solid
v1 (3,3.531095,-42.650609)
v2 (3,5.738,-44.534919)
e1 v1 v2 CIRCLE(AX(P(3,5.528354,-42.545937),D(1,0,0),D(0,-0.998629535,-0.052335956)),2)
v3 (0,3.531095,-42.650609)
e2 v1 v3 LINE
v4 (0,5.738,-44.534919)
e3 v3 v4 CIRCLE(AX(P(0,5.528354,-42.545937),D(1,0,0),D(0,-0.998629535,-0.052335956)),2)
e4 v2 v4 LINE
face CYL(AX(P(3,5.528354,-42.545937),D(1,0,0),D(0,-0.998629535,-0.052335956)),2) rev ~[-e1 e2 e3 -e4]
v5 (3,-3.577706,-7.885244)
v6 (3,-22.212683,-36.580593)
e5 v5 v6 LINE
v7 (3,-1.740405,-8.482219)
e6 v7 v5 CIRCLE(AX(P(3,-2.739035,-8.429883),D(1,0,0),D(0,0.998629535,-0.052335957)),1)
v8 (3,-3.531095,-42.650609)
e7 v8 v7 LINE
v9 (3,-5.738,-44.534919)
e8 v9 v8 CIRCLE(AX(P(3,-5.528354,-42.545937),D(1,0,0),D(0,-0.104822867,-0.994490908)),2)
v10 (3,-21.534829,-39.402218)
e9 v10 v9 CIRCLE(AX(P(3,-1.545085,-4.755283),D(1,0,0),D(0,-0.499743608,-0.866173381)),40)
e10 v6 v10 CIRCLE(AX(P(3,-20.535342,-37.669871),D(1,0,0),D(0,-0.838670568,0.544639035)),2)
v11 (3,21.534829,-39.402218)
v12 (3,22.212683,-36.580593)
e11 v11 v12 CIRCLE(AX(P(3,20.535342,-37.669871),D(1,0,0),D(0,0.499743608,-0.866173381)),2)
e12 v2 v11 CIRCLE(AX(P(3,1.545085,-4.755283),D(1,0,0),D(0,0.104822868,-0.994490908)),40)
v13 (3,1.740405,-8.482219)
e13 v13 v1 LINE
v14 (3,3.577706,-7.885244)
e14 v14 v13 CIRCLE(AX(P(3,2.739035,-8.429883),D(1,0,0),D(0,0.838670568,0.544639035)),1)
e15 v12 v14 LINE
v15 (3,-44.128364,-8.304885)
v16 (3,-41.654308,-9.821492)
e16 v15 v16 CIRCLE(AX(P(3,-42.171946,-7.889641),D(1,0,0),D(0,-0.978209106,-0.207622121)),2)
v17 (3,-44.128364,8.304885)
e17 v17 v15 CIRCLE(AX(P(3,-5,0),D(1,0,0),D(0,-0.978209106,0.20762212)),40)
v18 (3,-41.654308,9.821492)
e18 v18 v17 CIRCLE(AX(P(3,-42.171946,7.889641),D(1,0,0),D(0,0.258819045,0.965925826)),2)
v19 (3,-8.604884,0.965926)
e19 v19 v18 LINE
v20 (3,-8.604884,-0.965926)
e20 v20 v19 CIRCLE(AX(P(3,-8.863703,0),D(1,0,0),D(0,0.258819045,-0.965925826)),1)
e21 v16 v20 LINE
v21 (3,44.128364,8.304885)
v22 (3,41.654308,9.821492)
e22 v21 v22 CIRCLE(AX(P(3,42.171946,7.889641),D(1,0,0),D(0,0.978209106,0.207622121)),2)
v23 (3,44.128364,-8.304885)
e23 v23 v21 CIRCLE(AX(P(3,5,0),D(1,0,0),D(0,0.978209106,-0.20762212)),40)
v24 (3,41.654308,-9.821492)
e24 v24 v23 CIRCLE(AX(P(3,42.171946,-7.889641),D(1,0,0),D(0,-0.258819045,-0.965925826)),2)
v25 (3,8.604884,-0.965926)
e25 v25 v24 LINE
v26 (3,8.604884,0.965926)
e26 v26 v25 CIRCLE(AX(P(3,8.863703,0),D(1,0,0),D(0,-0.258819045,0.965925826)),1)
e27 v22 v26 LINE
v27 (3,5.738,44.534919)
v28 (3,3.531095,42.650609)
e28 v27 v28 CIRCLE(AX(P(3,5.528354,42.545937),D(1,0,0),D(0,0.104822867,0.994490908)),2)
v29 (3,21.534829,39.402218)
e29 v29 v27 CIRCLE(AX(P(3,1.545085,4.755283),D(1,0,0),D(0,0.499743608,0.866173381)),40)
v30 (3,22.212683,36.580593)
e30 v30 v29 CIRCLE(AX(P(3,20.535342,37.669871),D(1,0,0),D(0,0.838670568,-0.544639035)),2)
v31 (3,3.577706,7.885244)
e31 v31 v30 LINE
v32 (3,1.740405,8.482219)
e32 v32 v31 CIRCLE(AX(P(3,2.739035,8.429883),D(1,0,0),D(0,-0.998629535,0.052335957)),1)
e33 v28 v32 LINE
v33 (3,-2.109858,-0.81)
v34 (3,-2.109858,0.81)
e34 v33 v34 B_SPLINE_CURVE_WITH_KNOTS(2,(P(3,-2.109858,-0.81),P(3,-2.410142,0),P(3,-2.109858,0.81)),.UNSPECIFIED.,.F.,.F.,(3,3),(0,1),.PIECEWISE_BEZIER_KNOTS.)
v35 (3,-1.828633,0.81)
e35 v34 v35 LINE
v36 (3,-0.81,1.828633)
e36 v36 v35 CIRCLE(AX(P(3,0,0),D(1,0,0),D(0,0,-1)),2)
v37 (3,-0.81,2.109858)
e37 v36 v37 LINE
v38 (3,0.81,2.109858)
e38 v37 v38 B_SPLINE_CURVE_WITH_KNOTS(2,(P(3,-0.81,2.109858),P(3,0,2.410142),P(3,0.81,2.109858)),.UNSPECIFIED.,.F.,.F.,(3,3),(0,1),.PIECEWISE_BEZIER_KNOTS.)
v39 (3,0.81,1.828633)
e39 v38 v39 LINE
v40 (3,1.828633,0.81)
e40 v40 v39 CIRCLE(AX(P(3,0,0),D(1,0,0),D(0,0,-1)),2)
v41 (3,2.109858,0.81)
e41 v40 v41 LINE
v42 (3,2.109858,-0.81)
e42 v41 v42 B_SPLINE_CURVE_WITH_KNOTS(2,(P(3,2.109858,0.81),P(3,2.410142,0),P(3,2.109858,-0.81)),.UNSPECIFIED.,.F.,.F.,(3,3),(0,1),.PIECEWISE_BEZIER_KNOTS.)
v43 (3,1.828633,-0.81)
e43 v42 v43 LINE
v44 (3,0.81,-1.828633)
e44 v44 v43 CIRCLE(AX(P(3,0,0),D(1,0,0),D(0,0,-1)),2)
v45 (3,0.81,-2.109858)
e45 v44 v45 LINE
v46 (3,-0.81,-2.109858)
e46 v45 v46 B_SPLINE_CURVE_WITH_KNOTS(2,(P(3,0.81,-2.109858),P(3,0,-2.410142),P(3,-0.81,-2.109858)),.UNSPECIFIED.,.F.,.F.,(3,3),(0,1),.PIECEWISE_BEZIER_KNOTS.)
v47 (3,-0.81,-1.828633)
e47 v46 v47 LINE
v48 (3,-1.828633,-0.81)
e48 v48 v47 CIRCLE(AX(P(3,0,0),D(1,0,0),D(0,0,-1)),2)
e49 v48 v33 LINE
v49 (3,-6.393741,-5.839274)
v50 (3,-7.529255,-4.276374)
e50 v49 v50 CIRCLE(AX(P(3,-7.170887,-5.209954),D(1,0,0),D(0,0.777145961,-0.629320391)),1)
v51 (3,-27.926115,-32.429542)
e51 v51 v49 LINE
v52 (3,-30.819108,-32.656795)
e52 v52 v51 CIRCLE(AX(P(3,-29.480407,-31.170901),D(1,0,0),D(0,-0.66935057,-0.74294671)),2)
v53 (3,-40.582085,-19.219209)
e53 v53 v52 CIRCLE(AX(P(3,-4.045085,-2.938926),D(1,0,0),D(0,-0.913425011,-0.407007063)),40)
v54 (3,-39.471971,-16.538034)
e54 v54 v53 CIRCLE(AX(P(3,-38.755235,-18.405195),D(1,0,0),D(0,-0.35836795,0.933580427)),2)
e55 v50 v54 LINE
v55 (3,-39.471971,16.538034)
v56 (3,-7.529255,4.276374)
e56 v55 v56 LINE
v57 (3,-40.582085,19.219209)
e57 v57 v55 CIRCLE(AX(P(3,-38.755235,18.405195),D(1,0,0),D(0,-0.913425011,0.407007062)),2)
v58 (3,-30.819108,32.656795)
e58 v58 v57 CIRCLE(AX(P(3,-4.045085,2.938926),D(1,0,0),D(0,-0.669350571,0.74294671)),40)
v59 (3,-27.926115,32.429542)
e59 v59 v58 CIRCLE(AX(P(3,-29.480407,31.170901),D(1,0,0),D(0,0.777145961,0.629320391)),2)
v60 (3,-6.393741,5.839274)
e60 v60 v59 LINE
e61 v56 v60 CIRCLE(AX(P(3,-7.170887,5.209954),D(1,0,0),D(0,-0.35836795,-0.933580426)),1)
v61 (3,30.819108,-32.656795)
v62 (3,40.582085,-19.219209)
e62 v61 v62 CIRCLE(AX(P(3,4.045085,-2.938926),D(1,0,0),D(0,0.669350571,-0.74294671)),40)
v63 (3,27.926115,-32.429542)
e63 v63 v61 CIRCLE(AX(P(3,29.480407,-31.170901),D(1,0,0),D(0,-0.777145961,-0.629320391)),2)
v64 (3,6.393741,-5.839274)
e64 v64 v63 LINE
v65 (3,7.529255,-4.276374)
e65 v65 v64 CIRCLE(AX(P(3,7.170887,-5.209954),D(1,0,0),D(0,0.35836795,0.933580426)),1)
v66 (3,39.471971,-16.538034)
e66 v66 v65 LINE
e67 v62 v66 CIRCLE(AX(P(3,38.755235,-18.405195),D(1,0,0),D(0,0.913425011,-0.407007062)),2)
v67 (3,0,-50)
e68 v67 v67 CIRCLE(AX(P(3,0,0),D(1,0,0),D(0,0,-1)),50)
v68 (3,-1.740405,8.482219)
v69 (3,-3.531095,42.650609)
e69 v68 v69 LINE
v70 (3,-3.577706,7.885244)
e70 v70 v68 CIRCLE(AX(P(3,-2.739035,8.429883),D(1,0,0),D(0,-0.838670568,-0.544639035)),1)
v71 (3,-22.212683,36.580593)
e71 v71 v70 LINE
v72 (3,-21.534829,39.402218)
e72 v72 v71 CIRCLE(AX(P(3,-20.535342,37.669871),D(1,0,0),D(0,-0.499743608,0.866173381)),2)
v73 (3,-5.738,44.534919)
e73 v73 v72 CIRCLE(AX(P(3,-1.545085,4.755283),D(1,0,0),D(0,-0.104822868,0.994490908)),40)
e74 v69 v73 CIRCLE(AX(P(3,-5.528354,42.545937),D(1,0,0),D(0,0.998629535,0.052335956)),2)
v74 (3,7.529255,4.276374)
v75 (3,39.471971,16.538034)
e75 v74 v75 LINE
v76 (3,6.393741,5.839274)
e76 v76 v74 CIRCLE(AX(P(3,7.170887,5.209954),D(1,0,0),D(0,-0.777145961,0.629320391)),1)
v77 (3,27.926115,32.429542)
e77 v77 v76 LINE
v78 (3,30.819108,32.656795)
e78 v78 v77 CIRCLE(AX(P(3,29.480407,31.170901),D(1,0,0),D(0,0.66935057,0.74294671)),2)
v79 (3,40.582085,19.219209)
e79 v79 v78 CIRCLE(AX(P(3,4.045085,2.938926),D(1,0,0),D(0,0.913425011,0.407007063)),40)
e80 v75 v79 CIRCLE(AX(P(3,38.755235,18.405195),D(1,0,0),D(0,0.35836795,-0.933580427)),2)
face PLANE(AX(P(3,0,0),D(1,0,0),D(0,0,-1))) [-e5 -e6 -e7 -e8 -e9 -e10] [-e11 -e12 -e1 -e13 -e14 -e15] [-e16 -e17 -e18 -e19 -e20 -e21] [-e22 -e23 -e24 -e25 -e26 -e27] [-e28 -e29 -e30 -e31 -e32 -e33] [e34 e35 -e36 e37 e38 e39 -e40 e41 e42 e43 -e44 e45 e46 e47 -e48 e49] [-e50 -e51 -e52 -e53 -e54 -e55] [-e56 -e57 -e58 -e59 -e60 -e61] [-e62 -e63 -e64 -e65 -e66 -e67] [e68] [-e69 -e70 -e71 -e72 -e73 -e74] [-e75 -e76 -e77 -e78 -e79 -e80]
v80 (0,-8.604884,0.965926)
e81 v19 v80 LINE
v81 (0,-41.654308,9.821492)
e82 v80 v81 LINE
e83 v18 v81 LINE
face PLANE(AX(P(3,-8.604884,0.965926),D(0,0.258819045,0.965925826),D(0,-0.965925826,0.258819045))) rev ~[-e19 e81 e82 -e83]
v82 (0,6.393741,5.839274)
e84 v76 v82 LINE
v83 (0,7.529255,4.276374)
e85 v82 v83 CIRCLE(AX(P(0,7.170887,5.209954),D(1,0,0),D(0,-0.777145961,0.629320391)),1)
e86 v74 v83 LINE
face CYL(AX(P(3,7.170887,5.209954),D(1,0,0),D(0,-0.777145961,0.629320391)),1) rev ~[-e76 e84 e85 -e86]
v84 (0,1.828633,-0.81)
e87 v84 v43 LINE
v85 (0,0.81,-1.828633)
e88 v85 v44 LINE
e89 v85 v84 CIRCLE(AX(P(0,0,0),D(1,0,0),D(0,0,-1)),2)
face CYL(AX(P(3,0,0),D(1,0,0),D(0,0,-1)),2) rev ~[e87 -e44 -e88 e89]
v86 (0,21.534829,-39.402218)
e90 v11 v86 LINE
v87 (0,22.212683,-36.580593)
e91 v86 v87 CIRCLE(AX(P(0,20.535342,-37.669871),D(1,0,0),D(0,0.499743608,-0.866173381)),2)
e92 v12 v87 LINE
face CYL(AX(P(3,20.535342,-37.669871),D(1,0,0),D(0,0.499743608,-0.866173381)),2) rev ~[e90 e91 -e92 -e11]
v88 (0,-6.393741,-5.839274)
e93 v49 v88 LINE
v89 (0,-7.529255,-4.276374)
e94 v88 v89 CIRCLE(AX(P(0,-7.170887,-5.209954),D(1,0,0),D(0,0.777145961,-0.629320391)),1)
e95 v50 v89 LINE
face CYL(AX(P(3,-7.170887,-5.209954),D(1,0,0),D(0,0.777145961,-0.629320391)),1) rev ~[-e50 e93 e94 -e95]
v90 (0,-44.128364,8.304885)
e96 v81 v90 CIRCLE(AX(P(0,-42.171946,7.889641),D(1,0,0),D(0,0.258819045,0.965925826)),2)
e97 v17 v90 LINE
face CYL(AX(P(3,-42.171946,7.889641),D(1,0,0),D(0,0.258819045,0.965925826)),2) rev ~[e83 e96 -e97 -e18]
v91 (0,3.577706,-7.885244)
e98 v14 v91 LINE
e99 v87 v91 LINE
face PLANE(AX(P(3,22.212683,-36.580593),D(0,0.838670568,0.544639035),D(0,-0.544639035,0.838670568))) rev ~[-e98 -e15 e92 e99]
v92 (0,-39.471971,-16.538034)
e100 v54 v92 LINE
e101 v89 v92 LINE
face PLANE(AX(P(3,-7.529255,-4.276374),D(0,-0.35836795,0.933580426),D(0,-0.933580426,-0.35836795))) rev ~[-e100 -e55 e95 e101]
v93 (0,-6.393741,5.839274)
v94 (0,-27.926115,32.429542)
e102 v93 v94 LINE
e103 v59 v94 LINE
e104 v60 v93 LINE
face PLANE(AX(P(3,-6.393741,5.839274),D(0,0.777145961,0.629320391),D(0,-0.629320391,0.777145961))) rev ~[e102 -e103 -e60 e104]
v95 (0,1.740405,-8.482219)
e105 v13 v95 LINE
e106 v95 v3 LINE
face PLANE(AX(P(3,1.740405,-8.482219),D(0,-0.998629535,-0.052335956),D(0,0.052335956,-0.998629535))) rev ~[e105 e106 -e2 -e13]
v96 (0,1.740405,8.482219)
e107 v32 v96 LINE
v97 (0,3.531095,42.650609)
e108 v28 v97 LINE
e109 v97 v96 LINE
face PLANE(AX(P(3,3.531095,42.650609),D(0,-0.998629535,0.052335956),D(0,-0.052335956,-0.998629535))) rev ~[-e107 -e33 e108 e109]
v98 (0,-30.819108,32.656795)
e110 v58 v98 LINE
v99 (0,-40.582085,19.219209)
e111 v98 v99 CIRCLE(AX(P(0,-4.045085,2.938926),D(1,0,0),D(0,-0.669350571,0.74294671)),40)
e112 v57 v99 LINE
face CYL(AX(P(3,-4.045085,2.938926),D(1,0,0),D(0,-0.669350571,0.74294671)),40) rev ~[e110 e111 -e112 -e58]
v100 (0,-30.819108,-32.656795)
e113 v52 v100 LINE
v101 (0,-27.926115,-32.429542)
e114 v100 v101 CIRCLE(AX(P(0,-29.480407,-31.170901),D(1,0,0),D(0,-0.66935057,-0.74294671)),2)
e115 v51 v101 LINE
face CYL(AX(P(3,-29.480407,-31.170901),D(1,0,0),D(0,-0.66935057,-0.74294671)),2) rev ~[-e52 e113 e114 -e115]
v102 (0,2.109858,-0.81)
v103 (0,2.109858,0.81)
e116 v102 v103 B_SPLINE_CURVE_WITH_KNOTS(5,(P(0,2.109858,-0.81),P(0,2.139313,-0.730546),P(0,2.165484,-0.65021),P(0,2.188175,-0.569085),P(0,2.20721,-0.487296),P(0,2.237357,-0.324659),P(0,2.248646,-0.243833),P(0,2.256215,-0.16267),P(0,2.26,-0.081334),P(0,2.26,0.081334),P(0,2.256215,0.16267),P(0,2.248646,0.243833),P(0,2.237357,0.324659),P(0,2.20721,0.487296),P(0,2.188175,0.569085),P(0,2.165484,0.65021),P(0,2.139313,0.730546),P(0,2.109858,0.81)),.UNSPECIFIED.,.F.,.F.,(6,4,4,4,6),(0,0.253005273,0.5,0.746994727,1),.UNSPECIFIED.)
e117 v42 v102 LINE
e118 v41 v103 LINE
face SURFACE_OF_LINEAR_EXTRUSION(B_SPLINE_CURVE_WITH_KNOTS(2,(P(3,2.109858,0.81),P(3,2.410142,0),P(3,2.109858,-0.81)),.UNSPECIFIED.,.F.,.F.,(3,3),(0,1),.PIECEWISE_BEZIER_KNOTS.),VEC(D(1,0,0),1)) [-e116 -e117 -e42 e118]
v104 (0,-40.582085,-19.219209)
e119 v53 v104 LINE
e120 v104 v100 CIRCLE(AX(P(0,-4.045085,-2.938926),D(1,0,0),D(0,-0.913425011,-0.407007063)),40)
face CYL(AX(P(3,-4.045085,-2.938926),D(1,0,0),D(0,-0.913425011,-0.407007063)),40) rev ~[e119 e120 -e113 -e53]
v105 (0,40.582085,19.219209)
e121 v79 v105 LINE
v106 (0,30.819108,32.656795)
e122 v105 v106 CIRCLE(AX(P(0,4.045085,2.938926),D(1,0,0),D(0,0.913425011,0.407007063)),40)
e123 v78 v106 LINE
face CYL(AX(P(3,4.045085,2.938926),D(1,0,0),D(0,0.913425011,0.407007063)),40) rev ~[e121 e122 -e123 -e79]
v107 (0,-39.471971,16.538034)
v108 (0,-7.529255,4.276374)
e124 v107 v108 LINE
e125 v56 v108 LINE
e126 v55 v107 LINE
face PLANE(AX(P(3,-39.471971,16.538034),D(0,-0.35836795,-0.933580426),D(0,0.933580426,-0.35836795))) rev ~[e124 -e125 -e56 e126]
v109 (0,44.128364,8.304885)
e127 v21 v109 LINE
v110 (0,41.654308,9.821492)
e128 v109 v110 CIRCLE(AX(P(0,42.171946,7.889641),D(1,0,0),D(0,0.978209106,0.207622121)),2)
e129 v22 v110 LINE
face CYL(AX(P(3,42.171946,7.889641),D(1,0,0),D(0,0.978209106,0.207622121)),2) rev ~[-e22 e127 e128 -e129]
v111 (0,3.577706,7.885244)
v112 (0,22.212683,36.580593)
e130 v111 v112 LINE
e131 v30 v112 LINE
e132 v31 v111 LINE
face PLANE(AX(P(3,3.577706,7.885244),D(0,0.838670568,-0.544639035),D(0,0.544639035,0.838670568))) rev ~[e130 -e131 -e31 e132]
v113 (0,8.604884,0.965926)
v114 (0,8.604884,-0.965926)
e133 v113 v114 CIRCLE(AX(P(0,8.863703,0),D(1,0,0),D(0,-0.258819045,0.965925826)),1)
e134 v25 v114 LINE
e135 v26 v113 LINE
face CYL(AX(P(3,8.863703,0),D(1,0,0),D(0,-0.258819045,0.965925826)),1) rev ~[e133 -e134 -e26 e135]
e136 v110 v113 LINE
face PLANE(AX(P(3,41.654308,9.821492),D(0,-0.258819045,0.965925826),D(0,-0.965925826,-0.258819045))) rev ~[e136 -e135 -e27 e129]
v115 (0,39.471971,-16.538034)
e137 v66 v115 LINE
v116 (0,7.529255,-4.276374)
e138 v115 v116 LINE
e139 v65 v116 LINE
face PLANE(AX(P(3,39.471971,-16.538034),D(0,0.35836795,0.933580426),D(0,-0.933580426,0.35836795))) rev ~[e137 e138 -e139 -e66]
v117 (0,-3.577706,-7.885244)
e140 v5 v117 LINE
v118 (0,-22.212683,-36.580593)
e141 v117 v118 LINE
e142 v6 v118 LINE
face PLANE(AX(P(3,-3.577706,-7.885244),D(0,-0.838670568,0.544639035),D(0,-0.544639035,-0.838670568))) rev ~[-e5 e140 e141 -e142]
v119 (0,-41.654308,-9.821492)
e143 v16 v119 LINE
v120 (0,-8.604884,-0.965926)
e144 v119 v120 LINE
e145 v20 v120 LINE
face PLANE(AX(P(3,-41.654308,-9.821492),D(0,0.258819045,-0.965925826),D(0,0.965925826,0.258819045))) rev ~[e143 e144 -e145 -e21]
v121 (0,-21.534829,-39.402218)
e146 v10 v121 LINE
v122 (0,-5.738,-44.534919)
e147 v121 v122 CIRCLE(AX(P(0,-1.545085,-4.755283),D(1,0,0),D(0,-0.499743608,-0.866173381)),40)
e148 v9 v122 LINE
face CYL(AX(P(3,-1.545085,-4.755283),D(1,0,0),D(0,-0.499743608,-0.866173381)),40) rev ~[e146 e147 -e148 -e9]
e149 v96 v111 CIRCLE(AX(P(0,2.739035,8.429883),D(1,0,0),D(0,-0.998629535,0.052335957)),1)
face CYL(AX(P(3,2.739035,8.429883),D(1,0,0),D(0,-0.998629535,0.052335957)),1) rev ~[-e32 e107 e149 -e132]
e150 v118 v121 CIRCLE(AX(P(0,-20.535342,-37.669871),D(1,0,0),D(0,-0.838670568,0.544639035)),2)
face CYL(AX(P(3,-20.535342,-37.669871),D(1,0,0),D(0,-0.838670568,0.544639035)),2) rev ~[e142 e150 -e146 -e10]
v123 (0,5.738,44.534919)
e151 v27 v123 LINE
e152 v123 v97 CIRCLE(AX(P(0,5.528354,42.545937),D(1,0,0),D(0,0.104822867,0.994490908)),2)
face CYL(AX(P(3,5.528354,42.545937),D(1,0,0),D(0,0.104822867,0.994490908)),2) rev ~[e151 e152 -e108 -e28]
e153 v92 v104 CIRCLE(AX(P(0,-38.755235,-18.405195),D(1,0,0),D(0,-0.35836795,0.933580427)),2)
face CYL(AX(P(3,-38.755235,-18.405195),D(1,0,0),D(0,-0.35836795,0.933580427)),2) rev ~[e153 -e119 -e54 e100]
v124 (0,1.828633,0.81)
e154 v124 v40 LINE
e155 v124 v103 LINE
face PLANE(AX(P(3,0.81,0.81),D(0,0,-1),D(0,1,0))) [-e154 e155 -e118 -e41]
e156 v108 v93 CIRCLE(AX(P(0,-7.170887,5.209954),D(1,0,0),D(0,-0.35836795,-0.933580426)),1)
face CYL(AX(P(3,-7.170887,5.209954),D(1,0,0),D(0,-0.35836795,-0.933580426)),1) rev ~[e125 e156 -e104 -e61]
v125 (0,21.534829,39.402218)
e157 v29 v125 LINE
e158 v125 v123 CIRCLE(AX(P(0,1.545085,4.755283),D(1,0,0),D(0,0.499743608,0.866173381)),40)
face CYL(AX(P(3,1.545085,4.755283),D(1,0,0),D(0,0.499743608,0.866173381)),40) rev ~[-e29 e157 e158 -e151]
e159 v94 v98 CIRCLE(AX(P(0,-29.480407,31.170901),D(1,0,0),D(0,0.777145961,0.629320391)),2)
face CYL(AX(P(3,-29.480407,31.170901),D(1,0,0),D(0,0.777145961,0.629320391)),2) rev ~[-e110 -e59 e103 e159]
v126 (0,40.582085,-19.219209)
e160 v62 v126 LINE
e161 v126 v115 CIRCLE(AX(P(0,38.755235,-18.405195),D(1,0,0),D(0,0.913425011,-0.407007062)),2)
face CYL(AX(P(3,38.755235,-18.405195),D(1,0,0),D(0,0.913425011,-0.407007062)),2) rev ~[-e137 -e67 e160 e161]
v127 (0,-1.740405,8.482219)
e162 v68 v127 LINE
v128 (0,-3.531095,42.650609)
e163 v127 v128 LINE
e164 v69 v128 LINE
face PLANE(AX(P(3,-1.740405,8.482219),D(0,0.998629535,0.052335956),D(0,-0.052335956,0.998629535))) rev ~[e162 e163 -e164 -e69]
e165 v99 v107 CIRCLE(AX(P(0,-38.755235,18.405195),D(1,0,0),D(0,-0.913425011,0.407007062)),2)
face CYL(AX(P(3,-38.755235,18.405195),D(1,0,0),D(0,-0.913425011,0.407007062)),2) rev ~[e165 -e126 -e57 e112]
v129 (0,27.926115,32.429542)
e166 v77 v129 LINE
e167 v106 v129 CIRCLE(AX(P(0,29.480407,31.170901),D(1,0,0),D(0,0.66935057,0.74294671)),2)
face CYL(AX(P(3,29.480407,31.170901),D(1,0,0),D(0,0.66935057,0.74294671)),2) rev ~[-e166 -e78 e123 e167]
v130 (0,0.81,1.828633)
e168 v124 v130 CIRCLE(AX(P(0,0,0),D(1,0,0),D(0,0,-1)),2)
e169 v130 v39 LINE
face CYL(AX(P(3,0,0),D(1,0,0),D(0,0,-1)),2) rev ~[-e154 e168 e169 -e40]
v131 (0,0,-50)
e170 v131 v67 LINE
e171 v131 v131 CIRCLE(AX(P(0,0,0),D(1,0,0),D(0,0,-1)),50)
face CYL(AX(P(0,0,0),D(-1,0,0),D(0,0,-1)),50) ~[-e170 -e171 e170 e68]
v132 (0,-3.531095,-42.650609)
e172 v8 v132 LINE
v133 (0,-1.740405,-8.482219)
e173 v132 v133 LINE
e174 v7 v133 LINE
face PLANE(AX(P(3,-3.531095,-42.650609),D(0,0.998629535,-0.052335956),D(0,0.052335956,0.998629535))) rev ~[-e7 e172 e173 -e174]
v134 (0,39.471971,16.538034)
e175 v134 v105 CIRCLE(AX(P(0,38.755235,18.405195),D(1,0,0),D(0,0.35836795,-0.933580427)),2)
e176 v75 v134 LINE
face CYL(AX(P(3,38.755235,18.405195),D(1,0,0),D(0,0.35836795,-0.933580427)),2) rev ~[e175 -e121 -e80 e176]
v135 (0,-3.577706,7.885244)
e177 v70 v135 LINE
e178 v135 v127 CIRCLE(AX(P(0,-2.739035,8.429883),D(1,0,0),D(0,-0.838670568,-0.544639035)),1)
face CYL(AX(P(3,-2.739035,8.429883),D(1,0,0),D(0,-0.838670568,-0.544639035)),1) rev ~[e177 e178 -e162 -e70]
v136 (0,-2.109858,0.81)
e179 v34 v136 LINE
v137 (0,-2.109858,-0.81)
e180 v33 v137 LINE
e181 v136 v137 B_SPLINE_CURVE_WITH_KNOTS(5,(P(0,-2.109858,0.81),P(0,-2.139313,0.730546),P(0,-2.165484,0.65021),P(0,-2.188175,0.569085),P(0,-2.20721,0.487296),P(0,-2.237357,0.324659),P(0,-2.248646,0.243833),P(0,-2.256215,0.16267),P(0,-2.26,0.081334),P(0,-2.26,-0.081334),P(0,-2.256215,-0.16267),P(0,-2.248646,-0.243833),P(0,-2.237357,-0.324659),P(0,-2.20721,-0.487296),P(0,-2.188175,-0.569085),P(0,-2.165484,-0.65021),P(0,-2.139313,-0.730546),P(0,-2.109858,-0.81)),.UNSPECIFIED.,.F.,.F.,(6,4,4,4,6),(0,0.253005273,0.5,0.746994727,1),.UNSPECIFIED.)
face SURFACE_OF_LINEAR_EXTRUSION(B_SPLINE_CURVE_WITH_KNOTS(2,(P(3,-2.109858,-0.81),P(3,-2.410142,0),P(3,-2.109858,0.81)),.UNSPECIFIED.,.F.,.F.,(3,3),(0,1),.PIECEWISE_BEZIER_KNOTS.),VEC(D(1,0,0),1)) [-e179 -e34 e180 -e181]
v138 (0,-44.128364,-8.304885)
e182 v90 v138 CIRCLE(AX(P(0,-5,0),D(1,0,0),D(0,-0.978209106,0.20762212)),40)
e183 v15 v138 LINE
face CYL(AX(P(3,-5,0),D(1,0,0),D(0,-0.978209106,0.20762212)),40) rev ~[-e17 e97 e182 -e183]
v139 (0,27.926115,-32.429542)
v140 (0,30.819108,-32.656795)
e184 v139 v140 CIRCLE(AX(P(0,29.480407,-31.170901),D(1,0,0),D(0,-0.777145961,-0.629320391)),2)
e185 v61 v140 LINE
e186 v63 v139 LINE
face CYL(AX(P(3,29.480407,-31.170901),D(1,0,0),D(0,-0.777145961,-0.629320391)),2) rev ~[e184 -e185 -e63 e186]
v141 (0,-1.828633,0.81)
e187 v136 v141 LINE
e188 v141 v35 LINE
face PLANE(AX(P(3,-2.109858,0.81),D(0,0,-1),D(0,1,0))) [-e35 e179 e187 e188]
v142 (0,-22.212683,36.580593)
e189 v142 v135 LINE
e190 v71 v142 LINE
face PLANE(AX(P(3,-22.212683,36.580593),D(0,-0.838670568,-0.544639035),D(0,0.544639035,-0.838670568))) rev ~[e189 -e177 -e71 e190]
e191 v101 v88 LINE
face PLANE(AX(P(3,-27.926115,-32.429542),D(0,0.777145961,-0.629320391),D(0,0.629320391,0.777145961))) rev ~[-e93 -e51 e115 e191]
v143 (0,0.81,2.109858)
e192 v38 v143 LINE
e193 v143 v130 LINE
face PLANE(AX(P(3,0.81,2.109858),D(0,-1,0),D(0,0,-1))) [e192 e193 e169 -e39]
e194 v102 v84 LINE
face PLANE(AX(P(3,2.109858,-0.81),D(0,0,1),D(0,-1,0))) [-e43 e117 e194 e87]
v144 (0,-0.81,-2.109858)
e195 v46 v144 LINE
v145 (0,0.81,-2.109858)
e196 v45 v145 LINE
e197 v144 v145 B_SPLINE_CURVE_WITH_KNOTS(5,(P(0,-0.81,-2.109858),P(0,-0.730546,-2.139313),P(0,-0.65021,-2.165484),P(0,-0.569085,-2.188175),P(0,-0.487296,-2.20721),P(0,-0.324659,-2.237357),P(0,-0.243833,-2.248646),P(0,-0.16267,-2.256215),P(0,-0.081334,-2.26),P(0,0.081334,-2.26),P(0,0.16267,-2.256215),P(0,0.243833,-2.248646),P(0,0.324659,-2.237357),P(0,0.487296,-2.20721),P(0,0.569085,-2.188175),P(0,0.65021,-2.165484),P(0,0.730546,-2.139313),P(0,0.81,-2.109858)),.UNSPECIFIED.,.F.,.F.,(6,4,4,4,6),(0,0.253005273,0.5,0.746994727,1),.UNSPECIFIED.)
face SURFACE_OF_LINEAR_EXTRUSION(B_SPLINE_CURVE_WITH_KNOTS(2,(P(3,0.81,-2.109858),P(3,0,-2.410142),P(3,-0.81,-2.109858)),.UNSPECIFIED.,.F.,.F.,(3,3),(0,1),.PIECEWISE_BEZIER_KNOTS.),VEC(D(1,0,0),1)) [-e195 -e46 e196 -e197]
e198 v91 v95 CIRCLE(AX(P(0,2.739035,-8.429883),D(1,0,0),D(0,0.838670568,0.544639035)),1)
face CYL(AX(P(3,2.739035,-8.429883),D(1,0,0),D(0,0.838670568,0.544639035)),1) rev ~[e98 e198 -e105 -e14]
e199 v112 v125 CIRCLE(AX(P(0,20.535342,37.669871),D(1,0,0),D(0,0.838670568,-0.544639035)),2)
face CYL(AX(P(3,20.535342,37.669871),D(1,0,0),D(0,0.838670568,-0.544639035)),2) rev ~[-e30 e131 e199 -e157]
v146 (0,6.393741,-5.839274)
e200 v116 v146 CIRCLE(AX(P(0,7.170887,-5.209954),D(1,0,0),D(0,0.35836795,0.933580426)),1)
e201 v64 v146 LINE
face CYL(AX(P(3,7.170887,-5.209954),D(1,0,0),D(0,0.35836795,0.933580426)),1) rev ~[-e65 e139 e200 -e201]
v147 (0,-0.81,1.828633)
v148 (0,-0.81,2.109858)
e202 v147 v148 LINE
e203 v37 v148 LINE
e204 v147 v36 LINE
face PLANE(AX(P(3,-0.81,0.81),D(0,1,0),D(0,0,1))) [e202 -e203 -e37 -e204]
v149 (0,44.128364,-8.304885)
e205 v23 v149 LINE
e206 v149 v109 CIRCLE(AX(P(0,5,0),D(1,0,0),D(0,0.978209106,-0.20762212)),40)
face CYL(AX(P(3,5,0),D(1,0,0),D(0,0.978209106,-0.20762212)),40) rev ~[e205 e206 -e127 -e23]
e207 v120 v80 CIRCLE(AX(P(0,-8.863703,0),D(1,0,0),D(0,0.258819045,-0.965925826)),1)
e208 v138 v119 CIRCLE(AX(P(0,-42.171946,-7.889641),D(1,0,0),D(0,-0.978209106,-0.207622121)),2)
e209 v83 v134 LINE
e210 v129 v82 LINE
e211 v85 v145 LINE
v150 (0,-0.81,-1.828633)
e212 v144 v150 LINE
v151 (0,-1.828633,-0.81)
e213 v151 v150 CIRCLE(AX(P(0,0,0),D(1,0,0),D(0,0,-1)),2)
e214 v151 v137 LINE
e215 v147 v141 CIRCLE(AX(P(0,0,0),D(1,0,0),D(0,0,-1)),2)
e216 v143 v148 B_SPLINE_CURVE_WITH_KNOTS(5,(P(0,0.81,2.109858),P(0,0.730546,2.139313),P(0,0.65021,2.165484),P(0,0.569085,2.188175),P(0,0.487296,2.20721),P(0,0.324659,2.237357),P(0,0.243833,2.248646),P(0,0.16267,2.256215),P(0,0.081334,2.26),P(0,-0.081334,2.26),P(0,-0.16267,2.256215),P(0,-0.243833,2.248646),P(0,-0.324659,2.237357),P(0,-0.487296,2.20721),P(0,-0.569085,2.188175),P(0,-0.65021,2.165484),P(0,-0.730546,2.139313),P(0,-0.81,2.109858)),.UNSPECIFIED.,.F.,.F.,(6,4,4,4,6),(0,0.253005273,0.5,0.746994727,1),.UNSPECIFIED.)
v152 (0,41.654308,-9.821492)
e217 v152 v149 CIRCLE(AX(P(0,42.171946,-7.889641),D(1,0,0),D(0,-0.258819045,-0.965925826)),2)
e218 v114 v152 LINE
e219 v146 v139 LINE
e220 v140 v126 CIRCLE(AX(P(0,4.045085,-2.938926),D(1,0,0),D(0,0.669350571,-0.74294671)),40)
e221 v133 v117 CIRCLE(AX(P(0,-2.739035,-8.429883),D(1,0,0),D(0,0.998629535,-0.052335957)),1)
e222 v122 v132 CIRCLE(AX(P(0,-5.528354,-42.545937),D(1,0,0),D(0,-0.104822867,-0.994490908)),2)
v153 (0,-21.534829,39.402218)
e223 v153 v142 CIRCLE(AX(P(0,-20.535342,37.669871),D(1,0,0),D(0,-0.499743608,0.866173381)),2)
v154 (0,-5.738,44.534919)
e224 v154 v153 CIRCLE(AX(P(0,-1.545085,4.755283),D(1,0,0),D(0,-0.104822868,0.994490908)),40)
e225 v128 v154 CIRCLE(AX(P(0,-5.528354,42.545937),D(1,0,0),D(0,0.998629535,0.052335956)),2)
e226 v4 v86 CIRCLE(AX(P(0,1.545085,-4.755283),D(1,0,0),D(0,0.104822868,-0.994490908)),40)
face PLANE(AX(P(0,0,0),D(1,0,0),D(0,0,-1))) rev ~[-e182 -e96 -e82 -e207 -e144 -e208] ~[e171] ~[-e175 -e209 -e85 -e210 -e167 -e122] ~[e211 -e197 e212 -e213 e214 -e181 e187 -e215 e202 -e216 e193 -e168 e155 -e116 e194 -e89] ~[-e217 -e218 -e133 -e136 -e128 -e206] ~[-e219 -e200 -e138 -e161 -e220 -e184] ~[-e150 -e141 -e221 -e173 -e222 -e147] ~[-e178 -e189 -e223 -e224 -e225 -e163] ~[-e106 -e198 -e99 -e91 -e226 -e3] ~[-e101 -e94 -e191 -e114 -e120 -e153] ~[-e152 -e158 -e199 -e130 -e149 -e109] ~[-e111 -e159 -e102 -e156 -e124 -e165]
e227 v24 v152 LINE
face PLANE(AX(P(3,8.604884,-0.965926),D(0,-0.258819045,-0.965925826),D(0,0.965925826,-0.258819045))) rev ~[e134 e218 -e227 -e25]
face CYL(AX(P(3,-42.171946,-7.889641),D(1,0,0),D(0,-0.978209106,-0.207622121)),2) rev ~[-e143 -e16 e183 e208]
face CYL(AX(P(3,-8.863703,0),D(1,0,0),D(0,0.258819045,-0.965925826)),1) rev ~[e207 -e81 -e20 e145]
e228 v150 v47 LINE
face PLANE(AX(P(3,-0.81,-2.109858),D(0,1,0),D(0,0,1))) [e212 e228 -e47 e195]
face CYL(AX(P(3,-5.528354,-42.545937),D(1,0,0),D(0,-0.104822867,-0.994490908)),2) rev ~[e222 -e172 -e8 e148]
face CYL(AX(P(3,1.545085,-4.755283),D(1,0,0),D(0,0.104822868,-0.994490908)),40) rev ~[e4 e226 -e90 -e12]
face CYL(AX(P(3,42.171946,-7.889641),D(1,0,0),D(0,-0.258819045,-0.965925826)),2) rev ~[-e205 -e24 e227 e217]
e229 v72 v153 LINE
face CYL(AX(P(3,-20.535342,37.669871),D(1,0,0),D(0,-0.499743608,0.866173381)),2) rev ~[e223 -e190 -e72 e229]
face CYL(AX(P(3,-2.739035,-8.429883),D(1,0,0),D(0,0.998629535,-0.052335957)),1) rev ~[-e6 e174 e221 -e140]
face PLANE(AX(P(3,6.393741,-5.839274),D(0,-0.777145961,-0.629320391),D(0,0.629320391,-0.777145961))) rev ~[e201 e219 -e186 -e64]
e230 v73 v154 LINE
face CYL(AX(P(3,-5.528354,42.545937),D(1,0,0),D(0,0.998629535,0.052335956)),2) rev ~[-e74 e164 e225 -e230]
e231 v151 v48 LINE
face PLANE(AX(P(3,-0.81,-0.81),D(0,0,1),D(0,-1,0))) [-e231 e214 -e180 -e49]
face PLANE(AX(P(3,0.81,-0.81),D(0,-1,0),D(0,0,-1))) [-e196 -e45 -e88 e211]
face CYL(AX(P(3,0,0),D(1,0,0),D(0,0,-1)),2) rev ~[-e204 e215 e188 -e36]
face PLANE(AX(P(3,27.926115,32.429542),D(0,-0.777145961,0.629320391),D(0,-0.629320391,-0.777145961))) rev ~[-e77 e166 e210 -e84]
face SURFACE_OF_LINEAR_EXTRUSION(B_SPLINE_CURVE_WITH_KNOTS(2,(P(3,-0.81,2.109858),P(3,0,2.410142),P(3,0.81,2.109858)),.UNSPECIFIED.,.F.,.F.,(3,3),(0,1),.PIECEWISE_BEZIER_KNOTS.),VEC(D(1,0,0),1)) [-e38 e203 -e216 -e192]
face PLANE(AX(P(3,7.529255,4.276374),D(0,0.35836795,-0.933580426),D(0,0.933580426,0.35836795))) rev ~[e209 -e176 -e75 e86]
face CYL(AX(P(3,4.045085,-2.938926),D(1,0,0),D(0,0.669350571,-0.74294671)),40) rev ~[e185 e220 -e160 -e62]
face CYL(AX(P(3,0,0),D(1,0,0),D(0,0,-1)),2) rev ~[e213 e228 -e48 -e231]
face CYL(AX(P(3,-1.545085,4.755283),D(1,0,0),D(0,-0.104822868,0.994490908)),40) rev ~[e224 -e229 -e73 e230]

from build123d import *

# Parameters (mm, degrees)
SKETCH1_R           = 50
BOSS_EXTRUDE1_DEPTH = 3
SKETCH2_R           = 2
CUT_EXTRUDE1_DEPTH  = 3
CUT_EXTRUDE2_DEPTH  = 3
CIRPATTERN2_COUNT   = 10
CUT_EXTRUDE3_DEPTH  = 10


with BuildPart() as part:
    # Sketch1 → Boss-Extrude1 (new body)
    with BuildSketch(Plane(origin=(0, 0, 0), x_dir=(0, 0, -1), z_dir=(1, 0, 0))):
        Circle(SKETCH1_R)
    extrude(amount=BOSS_EXTRUDE1_DEPTH)

    # Sketch2 → Cut-Extrude1 (cut)
    with BuildSketch(Plane(origin=(3, 0, 0), x_dir=(0, 0, -1), z_dir=(1, 0, 0))):
        Circle(SKETCH2_R)
    extrude(amount=-CUT_EXTRUDE1_DEPTH, mode=Mode.SUBTRACT)

    # Sketch3 → Cut-Extrude2 (cut)
    with BuildSketch(Plane(origin=(3, 0, 0), x_dir=(0, 0, -1), z_dir=(1, 0, 0))):
        with BuildLine():
            Line((0.965925826, 8.60488426), (9.821492212, 41.654307942))
            ThreePointArc((9.821492212, 41.654307942), (9.594766194, 43.217195558), (8.3048848, 44.128364245))
            ThreePointArc((8.3048848, 44.128364245), (0, 45), (-8.3048848, 44.128364245))
            ThreePointArc((-8.3048848, 44.128364245), (-9.594766194, 43.217195558), (-9.821492212, 41.654307942))
            Line((-9.821492212, 41.654307942), (-0.965925826, 8.60488426))
            ThreePointArc((-0.965925826, 8.60488426), (0, 7.863703305), (0.965925826, 8.60488426))
        make_face()
    cut_extrude2 = extrude(amount=-CUT_EXTRUDE2_DEPTH, mode=Mode.SUBTRACT)

    # CirPattern2: Cut-Extrude2 ×10 about axis
    cirpattern2_axis = Axis((0, 0, 0), (1, 0, 0))
    for i in range(1, CIRPATTERN2_COUNT):
        add(cut_extrude2.rotate(cirpattern2_axis, i * 360 / CIRPATTERN2_COUNT), mode=Mode.SUBTRACT)

    # Sketch4 → Cut-Extrude3 (cut)
    with BuildSketch(Plane(origin=(3, 0, 0), x_dir=(0, 0, -1), z_dir=(1, 0, 0))):
        with BuildLine():
            Line((-2.109857815, 0.81), (-0.81, 0.81))
            Line((-0.81, 0.81), (-0.81, 2.109857815))
            add(Edge.make_bspline(
                [(-0.81, 2.109857815), (0, 2.410142185), (0.81, 2.109857815)],
                knots=[0, 0, 0, 1, 1, 1], degree=2))
            Line((0.81, 2.109857815), (0.81, 0.81))
            Line((0.81, 0.81), (2.109857815, 0.81))
            add(Edge.make_bspline(
                [(2.109857815, 0.81), (2.410142185, 0), (2.109857815, -0.81)],
                knots=[0, 0, 0, 1, 1, 1], degree=2))
            Line((2.109857815, -0.81), (0.81, -0.81))
            Line((0.81, -0.81), (0.81, -2.109857815))
            add(Edge.make_bspline(
                [(0.81, -2.109857815), (0, -2.410142185), (-0.81, -2.109857815)],
                knots=[0, 0, 0, 1, 1, 1], degree=2))
            Line((-0.81, -2.109857815), (-0.81, -0.81))
            Line((-0.81, -0.81), (-2.109857815, -0.81))
            add(Edge.make_bspline(
                [(-2.109857815, -0.81), (-2.410142185, 0), (-2.109857815, 0.81)],
                knots=[0, 0, 0, 1, 1, 1], degree=2))
        make_face()
    extrude(amount=-CUT_EXTRUDE3_DEPTH, mode=Mode.SUBTRACT)


solid = part.part
